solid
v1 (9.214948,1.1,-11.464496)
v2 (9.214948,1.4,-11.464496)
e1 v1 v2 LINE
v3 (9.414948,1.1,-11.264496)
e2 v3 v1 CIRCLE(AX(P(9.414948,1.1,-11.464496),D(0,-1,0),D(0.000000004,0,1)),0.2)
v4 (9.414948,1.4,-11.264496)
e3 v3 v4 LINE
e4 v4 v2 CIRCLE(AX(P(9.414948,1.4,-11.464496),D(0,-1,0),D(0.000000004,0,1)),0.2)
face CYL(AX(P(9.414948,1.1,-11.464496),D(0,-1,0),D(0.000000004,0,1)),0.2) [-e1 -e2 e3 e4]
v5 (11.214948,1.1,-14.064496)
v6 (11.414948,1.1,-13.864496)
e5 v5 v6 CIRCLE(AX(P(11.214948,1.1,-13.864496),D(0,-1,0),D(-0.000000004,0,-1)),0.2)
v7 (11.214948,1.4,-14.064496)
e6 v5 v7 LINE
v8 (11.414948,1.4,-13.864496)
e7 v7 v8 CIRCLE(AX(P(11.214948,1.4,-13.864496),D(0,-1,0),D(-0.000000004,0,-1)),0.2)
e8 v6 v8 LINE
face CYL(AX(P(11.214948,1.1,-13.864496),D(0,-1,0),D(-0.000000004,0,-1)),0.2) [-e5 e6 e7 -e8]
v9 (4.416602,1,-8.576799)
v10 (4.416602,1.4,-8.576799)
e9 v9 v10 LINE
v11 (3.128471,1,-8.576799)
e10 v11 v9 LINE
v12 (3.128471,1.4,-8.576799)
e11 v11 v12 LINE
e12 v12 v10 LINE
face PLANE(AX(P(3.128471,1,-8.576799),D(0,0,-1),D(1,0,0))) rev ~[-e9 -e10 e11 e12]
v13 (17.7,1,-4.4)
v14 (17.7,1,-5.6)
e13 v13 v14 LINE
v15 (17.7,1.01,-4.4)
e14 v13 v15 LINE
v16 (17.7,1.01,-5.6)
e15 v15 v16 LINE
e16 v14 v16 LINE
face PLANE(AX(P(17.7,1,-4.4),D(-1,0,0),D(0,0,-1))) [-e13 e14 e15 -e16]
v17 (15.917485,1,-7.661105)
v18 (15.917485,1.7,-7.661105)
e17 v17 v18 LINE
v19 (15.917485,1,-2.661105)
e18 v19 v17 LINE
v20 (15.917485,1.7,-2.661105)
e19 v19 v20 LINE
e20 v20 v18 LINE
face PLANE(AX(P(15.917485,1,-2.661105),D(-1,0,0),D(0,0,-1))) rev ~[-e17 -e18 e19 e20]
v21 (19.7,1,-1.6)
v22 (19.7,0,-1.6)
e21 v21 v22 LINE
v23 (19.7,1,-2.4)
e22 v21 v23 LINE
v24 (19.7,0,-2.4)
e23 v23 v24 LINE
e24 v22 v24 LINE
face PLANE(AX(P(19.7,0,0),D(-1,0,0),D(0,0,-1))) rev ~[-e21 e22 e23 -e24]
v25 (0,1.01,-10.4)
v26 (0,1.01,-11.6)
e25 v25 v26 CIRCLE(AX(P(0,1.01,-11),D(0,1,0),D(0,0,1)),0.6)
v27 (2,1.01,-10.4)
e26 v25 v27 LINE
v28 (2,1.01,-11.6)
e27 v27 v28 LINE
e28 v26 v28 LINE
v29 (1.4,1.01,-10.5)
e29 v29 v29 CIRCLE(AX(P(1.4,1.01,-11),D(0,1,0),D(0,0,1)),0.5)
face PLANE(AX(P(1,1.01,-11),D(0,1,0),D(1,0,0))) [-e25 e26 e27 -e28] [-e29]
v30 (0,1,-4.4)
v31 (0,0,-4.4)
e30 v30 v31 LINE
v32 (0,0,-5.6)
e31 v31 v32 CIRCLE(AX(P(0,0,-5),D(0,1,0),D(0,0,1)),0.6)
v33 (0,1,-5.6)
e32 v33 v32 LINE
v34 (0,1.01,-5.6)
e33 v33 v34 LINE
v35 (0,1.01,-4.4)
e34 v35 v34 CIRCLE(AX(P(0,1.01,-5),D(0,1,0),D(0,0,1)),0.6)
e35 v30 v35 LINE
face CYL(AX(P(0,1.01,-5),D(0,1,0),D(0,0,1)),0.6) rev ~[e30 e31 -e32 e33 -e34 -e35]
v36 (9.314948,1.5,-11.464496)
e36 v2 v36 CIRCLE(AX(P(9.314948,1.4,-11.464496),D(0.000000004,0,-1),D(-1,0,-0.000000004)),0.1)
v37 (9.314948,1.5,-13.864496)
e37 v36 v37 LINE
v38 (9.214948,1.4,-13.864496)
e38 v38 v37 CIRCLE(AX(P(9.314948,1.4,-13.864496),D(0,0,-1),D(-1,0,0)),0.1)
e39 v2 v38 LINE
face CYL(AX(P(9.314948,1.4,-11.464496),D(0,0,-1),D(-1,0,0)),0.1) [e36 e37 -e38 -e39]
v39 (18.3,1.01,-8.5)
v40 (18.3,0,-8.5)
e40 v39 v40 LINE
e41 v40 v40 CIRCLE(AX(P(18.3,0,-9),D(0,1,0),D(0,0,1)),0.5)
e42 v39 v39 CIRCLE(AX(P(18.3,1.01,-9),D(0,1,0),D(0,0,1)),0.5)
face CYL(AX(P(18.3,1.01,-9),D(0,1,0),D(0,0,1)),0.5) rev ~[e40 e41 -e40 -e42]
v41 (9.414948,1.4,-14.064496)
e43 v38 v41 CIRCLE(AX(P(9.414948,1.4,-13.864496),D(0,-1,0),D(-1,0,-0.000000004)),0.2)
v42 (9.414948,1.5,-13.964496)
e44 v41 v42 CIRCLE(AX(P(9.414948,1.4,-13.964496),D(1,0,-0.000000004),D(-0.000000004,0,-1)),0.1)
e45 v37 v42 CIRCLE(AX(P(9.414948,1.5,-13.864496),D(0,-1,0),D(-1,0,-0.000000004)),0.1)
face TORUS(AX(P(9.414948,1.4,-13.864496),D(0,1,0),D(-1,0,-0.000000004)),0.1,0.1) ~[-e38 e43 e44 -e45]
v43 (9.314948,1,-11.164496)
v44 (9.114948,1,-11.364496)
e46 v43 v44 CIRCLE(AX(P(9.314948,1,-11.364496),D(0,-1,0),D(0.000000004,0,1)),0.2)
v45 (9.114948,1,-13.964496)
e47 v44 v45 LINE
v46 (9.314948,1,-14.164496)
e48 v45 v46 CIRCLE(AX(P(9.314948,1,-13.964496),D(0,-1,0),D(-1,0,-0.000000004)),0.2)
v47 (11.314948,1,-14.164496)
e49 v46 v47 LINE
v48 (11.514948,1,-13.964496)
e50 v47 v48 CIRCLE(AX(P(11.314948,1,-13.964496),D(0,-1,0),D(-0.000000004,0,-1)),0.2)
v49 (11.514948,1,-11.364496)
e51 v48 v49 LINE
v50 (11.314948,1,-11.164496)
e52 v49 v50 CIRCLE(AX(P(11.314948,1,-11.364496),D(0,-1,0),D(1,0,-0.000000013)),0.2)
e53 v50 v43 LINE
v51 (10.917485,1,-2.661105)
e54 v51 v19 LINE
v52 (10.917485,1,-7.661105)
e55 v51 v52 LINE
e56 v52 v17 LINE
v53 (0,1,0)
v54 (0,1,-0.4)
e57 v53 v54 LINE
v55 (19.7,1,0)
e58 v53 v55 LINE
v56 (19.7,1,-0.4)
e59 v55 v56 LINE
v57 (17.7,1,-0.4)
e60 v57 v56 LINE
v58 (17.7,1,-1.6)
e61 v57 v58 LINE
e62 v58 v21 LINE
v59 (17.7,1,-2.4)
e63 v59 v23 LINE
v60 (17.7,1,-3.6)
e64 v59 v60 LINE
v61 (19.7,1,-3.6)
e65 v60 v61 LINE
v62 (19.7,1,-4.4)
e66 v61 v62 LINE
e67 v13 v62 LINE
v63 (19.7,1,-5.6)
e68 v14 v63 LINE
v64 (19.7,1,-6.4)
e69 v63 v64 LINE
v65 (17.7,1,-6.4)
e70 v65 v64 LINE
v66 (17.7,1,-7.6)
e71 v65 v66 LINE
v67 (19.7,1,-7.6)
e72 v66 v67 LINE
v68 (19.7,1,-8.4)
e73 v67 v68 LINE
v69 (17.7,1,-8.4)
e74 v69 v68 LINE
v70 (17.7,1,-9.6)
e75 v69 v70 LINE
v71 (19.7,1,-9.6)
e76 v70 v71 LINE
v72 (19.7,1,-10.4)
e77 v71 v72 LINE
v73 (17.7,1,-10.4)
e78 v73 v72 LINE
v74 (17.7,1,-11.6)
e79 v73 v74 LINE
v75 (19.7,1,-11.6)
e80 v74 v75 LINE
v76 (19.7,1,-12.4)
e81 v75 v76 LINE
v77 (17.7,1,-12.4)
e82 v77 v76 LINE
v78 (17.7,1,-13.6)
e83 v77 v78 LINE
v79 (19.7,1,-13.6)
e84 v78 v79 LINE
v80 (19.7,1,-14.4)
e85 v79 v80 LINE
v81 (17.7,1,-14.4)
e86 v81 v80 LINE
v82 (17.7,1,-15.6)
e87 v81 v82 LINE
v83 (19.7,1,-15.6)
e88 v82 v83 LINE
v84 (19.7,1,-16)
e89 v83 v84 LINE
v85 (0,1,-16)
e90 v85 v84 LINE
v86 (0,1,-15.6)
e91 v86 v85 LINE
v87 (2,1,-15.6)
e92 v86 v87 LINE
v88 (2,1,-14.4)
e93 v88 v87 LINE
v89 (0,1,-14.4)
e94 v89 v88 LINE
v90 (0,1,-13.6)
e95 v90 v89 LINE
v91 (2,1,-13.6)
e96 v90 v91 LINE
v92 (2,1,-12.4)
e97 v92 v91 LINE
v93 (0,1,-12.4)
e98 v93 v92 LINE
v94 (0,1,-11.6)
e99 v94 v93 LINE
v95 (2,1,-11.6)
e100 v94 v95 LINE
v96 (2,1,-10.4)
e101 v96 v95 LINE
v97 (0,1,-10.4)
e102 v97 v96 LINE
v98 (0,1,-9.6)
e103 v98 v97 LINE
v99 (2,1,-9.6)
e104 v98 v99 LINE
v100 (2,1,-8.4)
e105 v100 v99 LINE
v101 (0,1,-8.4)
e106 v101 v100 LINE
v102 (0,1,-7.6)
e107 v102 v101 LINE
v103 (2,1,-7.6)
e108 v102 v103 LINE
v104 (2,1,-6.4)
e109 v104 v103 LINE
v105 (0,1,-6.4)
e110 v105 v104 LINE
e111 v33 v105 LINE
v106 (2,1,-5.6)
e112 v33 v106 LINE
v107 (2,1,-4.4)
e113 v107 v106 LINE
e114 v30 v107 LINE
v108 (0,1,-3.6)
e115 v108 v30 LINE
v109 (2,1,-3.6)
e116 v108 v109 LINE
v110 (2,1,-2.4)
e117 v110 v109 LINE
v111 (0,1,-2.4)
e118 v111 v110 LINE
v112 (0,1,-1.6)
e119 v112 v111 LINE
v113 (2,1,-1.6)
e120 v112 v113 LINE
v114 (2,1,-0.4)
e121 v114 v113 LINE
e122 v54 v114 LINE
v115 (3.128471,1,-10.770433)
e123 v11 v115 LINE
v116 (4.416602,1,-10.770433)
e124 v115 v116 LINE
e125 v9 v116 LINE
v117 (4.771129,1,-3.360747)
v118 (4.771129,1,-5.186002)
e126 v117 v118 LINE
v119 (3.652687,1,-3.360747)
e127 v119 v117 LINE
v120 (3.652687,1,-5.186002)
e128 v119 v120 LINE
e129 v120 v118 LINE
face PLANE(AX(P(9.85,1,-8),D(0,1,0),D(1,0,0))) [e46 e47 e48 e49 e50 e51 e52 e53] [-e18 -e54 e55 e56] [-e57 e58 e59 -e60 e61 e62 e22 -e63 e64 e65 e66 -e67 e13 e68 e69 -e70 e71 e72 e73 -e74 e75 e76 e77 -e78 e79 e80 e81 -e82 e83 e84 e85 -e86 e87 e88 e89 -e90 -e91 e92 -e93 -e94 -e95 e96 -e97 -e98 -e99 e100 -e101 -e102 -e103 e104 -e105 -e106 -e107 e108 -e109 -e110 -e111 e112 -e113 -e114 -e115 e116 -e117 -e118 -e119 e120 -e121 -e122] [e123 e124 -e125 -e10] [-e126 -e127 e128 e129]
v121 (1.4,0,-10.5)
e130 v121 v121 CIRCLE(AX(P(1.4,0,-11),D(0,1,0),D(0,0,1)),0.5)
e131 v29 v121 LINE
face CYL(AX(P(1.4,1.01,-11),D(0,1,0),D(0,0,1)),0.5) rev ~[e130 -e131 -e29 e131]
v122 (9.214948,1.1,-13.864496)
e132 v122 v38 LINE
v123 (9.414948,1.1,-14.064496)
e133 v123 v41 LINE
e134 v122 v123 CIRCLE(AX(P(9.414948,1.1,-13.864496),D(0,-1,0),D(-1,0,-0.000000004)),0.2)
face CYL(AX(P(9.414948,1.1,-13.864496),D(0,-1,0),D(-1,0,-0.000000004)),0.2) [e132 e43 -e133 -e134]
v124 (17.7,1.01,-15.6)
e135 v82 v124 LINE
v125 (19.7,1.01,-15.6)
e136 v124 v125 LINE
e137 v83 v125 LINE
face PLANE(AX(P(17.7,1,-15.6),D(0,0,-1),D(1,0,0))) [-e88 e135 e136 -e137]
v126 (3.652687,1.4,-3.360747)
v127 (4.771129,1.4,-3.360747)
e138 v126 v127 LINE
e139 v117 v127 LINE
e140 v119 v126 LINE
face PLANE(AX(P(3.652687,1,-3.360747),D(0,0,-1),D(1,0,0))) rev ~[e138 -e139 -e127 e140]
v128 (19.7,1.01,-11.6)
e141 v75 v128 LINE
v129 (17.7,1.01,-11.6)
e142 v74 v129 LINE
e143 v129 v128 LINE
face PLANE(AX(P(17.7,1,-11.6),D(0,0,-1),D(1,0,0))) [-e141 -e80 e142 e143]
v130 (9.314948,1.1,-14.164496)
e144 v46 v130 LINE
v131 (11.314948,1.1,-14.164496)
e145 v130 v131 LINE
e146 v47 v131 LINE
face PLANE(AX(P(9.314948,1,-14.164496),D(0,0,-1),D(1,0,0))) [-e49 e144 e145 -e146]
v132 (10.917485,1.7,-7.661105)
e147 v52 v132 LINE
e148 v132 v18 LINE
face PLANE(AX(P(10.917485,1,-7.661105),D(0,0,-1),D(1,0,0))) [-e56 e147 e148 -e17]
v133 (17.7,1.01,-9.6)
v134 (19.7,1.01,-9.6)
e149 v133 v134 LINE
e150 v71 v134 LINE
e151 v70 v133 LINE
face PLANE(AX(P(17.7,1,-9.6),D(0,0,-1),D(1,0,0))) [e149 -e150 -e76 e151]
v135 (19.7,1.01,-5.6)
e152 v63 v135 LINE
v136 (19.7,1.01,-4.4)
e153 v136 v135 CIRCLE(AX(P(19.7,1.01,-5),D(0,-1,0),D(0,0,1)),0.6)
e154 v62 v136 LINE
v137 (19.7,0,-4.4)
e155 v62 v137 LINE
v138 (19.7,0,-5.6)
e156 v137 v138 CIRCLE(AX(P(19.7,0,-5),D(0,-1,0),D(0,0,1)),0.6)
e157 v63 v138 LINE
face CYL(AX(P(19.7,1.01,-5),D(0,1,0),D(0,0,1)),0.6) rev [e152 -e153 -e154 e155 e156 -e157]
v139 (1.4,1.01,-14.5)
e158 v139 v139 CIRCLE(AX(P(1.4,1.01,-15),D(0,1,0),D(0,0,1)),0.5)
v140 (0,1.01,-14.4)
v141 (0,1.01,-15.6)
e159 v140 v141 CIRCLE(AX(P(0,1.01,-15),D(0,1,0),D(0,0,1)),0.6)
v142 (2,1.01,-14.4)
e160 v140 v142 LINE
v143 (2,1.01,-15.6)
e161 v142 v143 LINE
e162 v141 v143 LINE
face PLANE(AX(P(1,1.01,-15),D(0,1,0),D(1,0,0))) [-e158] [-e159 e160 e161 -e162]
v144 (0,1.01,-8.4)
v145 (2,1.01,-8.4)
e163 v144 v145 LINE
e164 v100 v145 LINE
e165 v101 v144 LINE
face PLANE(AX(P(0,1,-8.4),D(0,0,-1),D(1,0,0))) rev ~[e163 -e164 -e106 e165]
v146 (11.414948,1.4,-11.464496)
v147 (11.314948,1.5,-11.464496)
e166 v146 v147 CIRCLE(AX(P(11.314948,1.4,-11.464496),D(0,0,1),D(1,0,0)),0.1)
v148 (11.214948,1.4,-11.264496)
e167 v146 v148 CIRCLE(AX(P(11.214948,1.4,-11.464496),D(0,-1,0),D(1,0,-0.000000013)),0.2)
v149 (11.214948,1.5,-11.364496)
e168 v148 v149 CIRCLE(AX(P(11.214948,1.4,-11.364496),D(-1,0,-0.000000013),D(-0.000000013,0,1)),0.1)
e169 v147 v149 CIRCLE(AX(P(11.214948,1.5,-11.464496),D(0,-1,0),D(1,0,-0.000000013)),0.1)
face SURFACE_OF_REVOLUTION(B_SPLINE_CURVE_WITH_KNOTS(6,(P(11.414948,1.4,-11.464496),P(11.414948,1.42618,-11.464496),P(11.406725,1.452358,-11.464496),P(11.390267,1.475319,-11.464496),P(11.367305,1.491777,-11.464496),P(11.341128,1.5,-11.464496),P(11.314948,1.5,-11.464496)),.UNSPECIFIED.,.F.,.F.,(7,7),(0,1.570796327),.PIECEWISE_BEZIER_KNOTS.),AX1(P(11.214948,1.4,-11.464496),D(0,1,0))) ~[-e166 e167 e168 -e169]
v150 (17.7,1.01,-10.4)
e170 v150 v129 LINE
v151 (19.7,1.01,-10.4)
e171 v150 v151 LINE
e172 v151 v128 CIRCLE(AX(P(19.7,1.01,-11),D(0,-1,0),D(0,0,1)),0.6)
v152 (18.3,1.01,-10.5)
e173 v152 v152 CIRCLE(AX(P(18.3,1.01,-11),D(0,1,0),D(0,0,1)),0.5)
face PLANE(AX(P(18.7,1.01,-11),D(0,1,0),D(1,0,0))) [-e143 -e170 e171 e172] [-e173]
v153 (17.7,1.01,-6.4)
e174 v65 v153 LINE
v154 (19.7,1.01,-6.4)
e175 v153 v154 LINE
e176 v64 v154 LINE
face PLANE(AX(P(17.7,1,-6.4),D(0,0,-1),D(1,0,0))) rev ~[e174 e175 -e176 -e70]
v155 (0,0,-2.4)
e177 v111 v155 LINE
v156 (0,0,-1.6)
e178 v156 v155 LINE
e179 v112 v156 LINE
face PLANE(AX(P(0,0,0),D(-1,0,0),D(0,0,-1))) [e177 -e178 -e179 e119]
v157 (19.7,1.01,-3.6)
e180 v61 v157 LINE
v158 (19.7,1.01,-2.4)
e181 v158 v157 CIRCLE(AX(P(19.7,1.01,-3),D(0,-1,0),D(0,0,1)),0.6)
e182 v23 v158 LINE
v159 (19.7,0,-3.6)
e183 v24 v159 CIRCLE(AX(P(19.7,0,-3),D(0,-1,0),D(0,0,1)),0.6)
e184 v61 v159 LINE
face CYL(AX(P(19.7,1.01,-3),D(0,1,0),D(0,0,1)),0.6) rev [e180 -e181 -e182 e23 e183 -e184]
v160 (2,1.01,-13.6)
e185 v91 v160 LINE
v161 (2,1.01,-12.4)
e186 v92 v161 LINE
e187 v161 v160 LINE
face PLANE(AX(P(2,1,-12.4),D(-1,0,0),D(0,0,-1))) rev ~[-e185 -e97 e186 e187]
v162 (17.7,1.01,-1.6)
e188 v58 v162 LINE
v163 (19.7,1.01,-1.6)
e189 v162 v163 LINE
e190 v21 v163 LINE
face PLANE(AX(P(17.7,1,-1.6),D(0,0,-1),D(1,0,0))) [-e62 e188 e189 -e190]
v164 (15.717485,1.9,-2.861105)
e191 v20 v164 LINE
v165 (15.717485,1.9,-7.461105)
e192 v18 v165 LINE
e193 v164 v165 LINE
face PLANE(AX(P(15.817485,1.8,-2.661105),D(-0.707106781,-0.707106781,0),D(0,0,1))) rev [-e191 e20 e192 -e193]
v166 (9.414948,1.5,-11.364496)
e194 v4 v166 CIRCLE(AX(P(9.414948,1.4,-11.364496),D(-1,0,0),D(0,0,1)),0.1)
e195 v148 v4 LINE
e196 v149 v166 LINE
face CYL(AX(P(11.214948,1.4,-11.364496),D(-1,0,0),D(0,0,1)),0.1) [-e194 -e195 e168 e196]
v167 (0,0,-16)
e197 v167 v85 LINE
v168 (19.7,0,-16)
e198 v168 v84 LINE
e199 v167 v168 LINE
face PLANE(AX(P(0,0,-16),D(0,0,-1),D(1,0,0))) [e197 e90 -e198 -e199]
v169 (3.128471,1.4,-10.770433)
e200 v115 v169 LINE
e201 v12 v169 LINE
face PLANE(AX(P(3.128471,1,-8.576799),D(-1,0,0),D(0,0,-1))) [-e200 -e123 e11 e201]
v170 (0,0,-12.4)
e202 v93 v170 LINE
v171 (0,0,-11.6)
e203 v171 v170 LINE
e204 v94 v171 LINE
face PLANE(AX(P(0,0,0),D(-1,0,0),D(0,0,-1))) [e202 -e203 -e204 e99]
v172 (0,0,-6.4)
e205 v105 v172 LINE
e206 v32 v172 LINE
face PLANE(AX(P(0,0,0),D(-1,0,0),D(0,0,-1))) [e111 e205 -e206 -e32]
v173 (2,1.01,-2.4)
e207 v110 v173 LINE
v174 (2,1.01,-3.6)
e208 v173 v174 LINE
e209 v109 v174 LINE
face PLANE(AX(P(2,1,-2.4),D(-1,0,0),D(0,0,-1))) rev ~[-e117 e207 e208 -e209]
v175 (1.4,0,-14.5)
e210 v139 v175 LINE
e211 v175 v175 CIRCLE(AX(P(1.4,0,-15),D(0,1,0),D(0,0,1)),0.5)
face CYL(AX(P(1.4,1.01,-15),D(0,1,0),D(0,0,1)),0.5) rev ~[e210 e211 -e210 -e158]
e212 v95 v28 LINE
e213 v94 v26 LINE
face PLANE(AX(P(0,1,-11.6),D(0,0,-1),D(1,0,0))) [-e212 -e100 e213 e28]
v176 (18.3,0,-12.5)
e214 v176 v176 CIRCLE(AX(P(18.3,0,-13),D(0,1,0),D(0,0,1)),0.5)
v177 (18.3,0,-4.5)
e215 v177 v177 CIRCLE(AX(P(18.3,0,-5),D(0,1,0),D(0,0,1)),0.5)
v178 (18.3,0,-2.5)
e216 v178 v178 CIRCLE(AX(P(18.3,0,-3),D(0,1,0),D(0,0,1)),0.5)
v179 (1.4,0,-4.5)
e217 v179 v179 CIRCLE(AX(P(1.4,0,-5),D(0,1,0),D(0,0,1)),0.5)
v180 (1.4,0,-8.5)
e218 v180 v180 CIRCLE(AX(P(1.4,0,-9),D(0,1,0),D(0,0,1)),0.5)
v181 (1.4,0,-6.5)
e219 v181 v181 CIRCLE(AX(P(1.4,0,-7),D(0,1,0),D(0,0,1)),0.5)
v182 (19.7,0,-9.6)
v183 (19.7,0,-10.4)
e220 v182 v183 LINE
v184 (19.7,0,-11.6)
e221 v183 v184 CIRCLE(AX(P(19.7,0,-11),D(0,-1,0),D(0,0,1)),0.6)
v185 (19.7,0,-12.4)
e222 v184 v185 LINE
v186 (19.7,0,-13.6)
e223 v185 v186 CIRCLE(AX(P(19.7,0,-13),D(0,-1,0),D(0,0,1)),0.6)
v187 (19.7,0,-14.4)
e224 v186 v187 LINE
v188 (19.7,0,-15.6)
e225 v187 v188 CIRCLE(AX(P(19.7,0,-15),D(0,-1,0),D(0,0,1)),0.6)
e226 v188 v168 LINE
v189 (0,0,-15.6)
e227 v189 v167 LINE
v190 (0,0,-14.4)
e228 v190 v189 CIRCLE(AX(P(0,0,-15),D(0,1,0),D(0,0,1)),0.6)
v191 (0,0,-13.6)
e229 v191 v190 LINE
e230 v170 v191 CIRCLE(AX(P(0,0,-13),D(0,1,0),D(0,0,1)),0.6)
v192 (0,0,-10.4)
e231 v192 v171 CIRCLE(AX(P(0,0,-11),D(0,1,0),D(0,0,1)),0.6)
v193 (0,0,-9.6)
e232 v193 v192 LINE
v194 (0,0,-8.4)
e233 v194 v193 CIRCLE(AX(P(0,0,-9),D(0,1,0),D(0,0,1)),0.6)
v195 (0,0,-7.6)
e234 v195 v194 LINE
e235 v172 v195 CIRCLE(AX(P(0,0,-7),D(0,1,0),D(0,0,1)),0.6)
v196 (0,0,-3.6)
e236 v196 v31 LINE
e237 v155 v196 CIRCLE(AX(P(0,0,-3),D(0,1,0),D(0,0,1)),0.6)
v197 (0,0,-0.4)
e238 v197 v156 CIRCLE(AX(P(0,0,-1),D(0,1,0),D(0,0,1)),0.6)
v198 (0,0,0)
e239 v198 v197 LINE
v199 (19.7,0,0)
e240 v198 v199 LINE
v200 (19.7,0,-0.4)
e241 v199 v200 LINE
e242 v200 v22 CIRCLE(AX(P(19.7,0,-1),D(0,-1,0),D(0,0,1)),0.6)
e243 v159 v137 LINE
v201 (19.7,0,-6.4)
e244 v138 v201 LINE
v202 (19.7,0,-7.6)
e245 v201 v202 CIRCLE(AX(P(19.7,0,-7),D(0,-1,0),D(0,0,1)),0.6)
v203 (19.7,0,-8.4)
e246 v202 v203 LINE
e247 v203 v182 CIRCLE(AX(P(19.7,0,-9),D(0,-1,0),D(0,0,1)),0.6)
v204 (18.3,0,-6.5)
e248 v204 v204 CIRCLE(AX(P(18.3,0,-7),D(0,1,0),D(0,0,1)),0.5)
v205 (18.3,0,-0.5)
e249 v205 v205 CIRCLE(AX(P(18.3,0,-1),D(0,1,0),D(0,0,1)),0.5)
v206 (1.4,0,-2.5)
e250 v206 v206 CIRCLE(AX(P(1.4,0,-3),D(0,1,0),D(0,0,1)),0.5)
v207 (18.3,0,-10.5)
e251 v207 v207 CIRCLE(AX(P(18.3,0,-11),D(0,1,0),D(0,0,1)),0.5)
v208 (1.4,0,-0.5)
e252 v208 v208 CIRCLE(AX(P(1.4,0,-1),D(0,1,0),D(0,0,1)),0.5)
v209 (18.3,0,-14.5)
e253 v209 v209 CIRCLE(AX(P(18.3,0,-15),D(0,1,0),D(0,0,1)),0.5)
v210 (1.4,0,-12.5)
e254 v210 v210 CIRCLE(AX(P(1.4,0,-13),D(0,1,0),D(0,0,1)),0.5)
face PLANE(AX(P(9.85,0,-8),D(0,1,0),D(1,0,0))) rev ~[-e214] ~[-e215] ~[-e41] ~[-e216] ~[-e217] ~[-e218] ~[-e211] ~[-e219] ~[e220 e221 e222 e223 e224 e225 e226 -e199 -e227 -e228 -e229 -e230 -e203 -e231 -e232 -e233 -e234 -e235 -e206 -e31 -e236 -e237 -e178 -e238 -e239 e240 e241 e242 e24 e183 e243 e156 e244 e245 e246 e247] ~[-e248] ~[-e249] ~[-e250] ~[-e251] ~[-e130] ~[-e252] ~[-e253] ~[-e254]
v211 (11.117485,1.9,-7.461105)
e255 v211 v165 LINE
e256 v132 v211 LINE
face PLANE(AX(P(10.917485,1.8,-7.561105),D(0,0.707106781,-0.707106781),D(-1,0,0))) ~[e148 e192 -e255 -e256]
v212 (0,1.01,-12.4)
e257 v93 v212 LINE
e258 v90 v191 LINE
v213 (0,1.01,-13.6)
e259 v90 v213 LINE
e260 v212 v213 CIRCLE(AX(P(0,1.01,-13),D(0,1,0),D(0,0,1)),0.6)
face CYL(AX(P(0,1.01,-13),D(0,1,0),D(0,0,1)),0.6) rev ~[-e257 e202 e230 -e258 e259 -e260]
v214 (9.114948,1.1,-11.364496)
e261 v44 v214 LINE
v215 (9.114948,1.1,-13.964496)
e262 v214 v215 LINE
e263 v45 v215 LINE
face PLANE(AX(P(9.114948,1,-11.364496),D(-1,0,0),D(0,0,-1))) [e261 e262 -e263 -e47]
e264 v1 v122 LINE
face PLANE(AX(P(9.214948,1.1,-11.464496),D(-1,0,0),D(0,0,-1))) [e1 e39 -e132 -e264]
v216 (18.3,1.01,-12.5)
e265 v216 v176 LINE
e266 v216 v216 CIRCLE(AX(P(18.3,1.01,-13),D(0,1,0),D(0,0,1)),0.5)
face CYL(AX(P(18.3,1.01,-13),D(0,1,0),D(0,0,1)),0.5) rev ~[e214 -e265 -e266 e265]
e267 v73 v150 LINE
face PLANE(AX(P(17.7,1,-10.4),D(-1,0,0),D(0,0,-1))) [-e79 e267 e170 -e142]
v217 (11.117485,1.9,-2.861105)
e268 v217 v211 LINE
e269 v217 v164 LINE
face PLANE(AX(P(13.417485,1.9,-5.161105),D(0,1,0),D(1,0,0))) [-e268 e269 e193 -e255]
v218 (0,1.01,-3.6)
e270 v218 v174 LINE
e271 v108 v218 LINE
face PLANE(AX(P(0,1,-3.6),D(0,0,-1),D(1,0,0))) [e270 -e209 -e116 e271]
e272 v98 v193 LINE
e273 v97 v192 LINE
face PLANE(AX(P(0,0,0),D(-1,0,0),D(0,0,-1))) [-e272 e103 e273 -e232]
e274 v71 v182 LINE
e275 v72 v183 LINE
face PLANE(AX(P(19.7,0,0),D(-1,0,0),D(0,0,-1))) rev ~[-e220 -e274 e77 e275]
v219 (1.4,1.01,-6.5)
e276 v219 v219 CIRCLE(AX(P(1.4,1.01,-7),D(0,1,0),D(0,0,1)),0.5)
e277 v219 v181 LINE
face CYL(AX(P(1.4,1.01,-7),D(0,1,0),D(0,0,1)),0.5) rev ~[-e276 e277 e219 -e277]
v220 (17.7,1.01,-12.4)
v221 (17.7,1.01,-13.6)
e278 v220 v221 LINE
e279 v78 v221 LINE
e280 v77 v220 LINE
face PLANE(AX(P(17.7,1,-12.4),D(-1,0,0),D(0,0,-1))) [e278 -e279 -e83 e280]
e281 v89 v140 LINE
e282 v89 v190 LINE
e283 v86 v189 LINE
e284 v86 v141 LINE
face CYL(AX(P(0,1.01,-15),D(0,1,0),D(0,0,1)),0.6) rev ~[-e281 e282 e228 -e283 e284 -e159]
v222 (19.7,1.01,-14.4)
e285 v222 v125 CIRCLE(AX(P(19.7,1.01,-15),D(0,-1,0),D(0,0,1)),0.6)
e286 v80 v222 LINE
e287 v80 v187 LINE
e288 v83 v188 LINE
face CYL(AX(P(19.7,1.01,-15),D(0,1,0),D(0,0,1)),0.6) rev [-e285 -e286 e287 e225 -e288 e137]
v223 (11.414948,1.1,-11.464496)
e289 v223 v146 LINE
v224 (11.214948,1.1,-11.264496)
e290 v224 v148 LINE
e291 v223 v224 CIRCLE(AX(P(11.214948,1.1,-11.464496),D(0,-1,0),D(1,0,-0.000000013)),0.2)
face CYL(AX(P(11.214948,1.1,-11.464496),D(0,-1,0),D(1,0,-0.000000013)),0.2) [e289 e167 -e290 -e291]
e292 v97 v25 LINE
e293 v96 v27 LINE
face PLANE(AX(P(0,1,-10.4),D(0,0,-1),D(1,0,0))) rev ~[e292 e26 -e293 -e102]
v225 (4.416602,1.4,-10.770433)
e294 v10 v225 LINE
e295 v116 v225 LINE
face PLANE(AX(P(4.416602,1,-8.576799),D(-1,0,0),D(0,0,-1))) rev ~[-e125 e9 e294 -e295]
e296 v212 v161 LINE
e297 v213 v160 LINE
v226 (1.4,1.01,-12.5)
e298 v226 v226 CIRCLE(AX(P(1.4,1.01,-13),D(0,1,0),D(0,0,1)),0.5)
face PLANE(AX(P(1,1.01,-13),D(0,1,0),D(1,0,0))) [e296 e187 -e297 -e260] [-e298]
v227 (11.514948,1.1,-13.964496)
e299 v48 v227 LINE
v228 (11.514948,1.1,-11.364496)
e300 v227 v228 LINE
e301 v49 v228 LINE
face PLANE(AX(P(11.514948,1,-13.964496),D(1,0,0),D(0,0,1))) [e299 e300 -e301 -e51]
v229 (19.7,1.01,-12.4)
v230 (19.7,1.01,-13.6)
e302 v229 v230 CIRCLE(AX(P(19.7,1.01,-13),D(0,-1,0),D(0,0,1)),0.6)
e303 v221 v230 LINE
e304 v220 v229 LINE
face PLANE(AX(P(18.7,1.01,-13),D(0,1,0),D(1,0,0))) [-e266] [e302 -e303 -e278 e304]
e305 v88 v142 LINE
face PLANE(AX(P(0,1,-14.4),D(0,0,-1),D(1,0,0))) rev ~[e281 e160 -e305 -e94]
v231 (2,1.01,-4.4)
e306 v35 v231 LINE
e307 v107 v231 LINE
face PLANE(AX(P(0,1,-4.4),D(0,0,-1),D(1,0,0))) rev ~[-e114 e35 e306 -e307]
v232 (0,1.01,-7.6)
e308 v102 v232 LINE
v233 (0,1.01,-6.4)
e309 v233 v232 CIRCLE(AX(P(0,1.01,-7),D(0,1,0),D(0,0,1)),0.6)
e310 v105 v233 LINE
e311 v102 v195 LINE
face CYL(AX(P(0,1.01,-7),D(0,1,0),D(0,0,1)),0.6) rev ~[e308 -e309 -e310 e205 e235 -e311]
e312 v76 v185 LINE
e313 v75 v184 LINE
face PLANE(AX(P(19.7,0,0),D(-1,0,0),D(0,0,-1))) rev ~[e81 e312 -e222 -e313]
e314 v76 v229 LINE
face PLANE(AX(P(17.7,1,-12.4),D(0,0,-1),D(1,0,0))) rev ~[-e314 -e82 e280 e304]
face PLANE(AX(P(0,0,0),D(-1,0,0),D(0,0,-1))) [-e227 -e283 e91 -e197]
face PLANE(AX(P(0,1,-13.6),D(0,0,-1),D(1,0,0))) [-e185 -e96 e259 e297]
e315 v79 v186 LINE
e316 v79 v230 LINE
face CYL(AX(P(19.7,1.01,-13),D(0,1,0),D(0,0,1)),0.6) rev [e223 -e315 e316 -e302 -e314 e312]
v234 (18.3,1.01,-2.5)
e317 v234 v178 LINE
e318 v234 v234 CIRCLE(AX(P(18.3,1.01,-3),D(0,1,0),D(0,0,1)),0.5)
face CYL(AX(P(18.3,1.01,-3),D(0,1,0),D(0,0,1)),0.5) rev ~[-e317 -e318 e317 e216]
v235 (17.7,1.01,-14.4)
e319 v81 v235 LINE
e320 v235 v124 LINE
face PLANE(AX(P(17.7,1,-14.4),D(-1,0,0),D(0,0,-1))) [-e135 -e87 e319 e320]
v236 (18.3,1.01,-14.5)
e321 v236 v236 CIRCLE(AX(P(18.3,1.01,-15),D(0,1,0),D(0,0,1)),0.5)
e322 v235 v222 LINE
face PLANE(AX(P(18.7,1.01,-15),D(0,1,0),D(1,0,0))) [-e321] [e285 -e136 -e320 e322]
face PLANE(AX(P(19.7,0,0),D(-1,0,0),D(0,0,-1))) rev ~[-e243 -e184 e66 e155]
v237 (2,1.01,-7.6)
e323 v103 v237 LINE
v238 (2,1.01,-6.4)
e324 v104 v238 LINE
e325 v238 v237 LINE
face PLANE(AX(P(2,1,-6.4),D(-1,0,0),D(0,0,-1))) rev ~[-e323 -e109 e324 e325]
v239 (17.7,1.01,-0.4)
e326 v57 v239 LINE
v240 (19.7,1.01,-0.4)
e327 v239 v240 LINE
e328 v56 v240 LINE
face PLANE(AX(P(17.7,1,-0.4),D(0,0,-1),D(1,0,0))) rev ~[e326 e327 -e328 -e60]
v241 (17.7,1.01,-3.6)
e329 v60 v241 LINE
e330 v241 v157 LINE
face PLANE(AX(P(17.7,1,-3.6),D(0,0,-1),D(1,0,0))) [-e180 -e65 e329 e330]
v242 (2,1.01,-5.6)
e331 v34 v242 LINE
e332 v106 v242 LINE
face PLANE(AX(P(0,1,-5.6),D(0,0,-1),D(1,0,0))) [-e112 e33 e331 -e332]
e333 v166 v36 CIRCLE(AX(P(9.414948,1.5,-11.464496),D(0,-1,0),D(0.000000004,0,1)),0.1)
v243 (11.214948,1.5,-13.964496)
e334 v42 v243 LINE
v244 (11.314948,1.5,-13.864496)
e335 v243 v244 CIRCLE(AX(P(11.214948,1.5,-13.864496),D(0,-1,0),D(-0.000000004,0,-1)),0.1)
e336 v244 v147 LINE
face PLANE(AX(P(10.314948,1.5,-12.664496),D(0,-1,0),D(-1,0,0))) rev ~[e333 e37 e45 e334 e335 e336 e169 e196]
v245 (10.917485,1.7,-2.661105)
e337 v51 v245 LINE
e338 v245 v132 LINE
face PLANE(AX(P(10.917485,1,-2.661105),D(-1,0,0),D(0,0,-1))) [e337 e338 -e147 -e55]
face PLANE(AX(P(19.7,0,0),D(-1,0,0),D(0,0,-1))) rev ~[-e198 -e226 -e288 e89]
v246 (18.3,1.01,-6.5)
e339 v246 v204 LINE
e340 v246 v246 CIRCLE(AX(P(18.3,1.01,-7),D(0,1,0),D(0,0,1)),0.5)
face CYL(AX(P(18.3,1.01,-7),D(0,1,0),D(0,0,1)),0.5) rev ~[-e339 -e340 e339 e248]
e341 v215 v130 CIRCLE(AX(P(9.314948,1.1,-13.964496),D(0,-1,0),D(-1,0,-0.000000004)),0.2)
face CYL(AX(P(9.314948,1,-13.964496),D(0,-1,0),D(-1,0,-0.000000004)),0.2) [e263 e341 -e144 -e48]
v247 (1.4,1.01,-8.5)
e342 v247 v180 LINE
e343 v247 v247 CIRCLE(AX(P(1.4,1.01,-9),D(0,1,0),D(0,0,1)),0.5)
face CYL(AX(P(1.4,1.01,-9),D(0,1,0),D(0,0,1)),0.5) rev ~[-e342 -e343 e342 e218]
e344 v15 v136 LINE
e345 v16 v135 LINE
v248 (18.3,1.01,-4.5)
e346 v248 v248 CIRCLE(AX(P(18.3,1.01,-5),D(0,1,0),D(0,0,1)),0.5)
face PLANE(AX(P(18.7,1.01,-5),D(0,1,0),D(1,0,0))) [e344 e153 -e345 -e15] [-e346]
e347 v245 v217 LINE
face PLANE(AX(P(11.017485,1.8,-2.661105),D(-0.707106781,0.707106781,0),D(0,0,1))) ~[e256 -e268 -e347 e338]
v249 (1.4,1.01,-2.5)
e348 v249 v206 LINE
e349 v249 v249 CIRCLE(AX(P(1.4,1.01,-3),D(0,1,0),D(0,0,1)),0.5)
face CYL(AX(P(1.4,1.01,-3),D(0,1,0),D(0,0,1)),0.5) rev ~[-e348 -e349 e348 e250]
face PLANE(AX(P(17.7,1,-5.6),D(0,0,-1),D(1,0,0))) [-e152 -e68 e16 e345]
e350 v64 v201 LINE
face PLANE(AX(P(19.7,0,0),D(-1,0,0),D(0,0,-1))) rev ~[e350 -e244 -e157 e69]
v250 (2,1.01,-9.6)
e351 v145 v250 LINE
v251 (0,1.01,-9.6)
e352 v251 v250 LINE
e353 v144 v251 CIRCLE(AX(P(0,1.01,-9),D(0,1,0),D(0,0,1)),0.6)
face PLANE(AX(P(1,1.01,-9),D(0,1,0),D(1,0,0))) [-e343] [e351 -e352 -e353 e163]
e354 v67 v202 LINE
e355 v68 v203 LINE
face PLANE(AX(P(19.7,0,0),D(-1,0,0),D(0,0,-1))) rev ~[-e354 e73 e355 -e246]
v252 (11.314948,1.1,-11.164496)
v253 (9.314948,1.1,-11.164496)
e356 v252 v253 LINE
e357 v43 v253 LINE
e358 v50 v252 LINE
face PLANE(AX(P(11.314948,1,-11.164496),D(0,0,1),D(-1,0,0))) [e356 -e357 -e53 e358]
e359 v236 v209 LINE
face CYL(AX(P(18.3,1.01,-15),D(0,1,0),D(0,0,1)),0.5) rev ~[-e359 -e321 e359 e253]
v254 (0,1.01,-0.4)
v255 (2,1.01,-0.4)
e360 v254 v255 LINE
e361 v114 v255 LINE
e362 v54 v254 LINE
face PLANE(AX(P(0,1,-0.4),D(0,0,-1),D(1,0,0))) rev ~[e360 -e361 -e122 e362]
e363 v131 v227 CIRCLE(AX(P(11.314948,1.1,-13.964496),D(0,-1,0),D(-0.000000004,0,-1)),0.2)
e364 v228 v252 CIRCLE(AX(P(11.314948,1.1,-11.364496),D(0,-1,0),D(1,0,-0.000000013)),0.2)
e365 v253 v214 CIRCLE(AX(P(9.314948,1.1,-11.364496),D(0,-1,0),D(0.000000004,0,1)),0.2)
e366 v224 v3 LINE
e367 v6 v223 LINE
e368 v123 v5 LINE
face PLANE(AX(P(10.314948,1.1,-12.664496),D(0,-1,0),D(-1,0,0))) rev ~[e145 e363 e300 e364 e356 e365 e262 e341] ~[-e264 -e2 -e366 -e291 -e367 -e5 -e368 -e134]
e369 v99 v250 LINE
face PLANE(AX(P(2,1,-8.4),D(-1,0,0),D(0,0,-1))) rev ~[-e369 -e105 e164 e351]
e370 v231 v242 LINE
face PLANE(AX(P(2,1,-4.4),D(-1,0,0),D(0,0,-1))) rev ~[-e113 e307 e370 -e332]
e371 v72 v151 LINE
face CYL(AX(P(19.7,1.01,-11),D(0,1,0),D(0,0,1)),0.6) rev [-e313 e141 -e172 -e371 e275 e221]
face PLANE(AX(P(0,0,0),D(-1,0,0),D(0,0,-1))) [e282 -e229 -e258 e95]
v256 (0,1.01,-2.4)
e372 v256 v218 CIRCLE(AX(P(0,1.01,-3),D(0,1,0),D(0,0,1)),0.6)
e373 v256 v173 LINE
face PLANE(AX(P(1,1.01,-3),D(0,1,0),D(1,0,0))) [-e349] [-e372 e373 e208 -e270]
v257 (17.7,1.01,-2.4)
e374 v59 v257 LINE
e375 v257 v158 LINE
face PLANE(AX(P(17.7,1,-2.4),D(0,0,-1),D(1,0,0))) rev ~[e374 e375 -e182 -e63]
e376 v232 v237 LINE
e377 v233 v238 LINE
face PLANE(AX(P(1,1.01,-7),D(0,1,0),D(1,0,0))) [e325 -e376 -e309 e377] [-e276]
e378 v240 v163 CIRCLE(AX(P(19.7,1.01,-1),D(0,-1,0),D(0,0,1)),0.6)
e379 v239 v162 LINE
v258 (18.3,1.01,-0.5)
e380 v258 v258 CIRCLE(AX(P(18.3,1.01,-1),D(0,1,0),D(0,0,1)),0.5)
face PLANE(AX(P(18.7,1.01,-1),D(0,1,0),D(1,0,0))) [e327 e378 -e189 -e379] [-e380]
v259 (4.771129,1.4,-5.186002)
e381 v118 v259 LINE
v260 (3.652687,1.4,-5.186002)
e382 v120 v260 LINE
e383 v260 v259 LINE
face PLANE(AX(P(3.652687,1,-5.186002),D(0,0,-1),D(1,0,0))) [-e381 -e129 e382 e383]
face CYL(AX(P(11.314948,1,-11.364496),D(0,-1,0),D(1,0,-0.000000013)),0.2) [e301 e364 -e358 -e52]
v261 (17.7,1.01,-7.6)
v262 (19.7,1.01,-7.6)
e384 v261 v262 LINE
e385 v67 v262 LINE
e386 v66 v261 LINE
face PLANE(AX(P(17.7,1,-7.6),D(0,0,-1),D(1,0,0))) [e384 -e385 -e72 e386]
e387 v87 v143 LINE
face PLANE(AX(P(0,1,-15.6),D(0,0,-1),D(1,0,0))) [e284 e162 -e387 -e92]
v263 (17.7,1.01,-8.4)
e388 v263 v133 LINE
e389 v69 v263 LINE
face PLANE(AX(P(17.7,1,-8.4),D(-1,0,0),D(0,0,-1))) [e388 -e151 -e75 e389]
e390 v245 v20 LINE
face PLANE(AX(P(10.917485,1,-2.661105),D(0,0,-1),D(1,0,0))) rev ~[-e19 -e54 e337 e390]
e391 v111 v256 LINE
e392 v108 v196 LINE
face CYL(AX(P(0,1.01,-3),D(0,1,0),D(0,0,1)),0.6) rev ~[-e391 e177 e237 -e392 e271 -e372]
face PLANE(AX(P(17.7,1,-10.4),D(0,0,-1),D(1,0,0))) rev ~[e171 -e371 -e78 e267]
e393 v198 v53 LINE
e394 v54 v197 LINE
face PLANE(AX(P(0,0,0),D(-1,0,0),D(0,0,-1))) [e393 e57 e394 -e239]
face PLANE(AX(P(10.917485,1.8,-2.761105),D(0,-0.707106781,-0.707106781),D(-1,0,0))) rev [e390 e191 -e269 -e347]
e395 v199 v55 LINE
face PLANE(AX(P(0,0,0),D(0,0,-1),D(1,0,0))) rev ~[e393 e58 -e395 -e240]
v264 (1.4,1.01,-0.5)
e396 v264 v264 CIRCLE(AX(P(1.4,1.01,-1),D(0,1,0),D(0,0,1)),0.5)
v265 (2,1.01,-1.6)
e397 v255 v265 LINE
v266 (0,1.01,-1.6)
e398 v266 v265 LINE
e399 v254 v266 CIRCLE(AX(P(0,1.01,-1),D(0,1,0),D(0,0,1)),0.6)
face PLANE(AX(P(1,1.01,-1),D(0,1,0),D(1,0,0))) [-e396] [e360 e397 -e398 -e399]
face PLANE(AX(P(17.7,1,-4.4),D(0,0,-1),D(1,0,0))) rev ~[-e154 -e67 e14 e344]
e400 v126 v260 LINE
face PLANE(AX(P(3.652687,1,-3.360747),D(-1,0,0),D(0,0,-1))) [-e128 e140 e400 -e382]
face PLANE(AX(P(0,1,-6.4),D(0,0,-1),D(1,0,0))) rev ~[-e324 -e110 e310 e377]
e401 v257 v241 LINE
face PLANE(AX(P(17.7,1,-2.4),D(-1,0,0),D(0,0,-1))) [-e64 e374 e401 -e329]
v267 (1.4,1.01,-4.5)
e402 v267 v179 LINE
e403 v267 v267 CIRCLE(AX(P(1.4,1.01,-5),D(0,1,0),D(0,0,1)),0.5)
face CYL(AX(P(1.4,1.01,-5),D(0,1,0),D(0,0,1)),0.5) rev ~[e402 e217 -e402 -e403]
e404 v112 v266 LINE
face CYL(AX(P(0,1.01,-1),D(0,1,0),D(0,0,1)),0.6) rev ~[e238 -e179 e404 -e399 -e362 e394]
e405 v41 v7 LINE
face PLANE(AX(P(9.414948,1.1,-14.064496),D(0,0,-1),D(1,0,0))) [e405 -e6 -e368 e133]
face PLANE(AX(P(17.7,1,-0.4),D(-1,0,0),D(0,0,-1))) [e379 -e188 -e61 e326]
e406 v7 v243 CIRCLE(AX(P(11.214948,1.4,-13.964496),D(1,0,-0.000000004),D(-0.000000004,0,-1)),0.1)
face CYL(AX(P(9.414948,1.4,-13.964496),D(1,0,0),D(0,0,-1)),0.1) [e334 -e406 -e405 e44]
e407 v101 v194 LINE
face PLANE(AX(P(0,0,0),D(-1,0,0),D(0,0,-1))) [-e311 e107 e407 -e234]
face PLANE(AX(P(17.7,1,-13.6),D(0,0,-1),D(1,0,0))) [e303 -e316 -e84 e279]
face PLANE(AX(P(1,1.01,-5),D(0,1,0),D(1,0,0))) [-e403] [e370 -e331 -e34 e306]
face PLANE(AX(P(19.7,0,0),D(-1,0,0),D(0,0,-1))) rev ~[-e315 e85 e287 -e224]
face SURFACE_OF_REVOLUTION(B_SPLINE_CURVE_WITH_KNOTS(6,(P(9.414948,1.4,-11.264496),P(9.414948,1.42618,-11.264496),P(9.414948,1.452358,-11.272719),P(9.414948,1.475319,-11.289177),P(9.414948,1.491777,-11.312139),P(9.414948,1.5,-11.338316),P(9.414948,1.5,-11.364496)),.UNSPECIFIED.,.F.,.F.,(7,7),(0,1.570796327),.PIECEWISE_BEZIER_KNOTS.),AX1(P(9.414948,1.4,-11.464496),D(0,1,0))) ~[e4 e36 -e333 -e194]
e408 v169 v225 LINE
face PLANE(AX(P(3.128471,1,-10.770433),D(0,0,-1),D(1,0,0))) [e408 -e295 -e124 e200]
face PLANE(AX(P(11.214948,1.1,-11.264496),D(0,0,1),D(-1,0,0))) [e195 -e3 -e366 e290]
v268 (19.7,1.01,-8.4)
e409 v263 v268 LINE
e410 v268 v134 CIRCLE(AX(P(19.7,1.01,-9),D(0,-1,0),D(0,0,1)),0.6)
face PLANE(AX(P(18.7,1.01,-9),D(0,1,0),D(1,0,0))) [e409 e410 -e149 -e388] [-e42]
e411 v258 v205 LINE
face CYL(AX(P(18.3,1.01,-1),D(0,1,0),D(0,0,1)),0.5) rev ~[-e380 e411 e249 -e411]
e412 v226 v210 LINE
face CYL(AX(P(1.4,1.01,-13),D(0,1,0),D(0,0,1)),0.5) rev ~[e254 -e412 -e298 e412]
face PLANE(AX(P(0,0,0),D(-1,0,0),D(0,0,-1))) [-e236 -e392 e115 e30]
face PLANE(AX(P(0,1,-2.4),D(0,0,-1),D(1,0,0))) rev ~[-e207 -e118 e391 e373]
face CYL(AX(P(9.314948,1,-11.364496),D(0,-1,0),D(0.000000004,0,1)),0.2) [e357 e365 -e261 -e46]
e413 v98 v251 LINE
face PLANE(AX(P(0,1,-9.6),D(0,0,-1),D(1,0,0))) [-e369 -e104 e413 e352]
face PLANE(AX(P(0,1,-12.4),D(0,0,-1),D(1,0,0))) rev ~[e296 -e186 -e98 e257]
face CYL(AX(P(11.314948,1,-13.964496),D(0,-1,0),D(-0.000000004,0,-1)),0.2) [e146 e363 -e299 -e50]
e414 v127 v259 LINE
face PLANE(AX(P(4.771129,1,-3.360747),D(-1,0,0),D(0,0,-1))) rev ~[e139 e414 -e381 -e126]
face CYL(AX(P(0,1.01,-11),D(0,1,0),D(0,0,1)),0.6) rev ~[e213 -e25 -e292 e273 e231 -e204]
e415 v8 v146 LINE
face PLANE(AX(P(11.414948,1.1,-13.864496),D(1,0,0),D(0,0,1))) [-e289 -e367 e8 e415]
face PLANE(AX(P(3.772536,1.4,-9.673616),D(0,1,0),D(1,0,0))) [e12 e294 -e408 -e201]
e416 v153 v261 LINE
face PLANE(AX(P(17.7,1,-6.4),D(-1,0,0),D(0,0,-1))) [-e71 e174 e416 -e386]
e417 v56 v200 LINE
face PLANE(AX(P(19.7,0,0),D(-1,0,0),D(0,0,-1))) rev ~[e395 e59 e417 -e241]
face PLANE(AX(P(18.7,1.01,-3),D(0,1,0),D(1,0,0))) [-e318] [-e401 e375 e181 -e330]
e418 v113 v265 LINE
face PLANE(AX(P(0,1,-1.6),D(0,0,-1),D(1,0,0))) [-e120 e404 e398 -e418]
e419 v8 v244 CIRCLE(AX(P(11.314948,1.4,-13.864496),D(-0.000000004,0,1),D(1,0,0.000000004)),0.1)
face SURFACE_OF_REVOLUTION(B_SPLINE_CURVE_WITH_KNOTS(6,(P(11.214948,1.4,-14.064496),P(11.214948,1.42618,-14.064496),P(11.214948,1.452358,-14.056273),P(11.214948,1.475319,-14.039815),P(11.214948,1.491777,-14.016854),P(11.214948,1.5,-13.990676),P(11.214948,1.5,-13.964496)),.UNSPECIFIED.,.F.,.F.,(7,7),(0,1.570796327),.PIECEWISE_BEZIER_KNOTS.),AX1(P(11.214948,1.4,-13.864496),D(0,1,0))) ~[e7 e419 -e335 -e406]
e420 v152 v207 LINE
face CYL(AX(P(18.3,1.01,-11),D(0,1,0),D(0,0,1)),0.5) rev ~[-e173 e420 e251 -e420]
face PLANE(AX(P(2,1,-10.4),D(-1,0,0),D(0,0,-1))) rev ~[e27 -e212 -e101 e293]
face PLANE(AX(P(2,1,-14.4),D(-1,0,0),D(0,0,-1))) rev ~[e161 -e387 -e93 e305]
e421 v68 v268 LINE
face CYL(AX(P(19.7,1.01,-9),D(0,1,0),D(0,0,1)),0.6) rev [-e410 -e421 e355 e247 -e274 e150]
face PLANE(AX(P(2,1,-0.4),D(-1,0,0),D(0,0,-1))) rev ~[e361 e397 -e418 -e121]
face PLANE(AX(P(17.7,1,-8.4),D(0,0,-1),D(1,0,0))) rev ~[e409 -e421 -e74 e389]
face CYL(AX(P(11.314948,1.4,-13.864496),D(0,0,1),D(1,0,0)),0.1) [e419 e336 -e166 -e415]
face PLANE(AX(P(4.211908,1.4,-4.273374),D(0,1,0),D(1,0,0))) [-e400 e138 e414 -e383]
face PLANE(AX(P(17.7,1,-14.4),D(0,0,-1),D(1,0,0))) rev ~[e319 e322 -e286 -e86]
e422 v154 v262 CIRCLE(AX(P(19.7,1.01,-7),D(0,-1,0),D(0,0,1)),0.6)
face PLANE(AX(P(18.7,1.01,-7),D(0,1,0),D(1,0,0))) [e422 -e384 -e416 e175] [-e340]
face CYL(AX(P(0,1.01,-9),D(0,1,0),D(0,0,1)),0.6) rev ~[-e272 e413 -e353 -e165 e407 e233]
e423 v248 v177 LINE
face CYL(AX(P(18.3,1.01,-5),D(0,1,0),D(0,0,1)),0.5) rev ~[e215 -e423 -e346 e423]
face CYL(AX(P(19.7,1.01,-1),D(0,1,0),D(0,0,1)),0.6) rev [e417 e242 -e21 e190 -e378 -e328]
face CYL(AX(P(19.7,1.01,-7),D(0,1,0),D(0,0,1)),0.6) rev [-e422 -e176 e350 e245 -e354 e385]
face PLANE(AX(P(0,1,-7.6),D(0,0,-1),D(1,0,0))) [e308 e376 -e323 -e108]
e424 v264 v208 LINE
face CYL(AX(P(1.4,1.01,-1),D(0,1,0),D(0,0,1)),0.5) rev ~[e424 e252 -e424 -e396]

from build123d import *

# Parameters (mm, degrees)
SKETCH1_W           = 19.7
SKETCH1_H           = 16
BOSS_EXTRUDE1_DEPTH = 1
SKETCH2_W           = 2
SKETCH2_H           = 1.2
BOSS_EXTRUDE2_DEPTH = 0.01
SKETCH3_R           = 0.5
CUT_EXTRUDE1_DEPTH  = 1.01
SKETCH4_W           = 5
SKETCH4_H           = 5
BOSS_EXTRUDE3_DEPTH = 0.9
SKETCH5_W           = 1.118442439
SKETCH5_H           = 1.825254878
SKETCH5_W_2         = 1.288131099
SKETCH5_H_2         = 2.193633861
BOSS_EXTRUDE4_DEPTH = 0.4
BOSS_EXTRUDE5_DEPTH = 0.1
BOSS_EXTRUDE6_DEPTH = 0.4
FILLET1_R           = 0.1
CHAMFER1_SIZE       = 0.2


with BuildPart() as part:
    # Sketch1 → Boss-Extrude1 (new body)
    with BuildSketch(Plane(origin=(0, 0, 0), x_dir=(1, 0, 0), z_dir=(0, 1, 0))):
        with Locations((9.85, 8)):
            Rectangle(SKETCH1_W, SKETCH1_H)
    extrude(amount=BOSS_EXTRUDE1_DEPTH)

    # Sketch2 → Boss-Extrude2 (add)
    with BuildSketch(Plane(origin=(0, 1, 0), x_dir=(1, 0, 0), z_dir=(0, 1, 0))):
        with Locations((1, 15)):
            Rectangle(SKETCH2_W, SKETCH2_H)
        with Locations((1, 13)):
            Rectangle(SKETCH2_W, SKETCH2_H)
        with Locations((1, 11)):
            Rectangle(SKETCH2_W, SKETCH2_H)
        with Locations((1, 9)):
            Rectangle(SKETCH2_W, SKETCH2_H)
        with Locations((1, 7)):
            Rectangle(SKETCH2_W, SKETCH2_H)
        with Locations((1, 5)):
            Rectangle(SKETCH2_W, SKETCH2_H)
        with Locations((1, 3)):
            Rectangle(SKETCH2_W, SKETCH2_H)
        with Locations((1, 1)):
            Rectangle(SKETCH2_W, SKETCH2_H)
        with Locations((18.7, 15)):
            Rectangle(SKETCH2_W, SKETCH2_H)
        with Locations((18.7, 13)):
            Rectangle(SKETCH2_W, SKETCH2_H)
        with Locations((18.7, 11)):
            Rectangle(SKETCH2_W, SKETCH2_H)
        with Locations((18.7, 9)):
            Rectangle(SKETCH2_W, SKETCH2_H)
        with Locations((18.7, 7)):
            Rectangle(SKETCH2_W, SKETCH2_H)
        with Locations((18.7, 5)):
            Rectangle(SKETCH2_W, SKETCH2_H)
        with Locations((18.7, 3)):
            Rectangle(SKETCH2_W, SKETCH2_H)
        with Locations((18.7, 1)):
            Rectangle(SKETCH2_W, SKETCH2_H)
    extrude(amount=BOSS_EXTRUDE2_DEPTH)

    # Sketch3 → Cut-Extrude1 (cut)
    with BuildSketch(Plane(origin=(0, 1.01, 0), x_dir=(1, 0, 0), z_dir=(0, 1, 0))):
        with Locations(Location((1.4, 15, 0), (0, 0, 270))):
            Circle(SKETCH3_R)
        with Locations(Location((1.4, 13, 0), (0, 0, 270))):
            Circle(SKETCH3_R)
        with Locations(Location((1.4, 11, 0), (0, 0, 270))):
            Circle(SKETCH3_R)
        with Locations(Location((1.4, 9, 0), (0, 0, 270))):
            Circle(SKETCH3_R)
        with Locations(Location((1.4, 7, 0), (0, 0, 270))):
            Circle(SKETCH3_R)
        with Locations(Location((1.4, 5, 0), (0, 0, 270))):
            Circle(SKETCH3_R)
        with Locations(Location((1.4, 3, 0), (0, 0, 270))):
            Circle(SKETCH3_R)
        with Locations(Location((1.4, 1, 0), (0, 0, 270))):
            Circle(SKETCH3_R)
        with Locations(Location((18.3, 15, 0), (0, 0, 270))):
            Circle(SKETCH3_R)
        with Locations(Location((18.3, 13, 0), (0, 0, 270))):
            Circle(SKETCH3_R)
        with Locations(Location((18.3, 11, 0), (0, 0, 270))):
            Circle(SKETCH3_R)
        with Locations(Location((18.3, 9, 0), (0, 0, 270))):
            Circle(SKETCH3_R)
        with Locations(Location((18.3, 7, 0), (0, 0, 270))):
            Circle(SKETCH3_R)
        with Locations(Location((18.3, 5, 0), (0, 0, 270))):
            Circle(SKETCH3_R)
        with Locations(Location((18.3, 3, 0), (0, 0, 270))):
            Circle(SKETCH3_R)
        with Locations(Location((18.3, 1, 0), (0, 0, 270))):
            Circle(SKETCH3_R)
        with BuildLine():
            Line((0, 15.6), (0, 14.4))
            ThreePointArc((0, 14.4), (0.6, 15), (0, 15.6))
        make_face()
        with BuildLine():
            Line((0, 13.6), (0, 12.4))
            ThreePointArc((0, 12.4), (0.6, 13), (0, 13.6))
        make_face()
        with BuildLine():
            Line((0, 11.6), (0, 10.4))
            ThreePointArc((0, 10.4), (0.6, 11), (0, 11.6))
        make_face()
        with BuildLine():
            Line((0, 9.6), (0, 8.4))
            ThreePointArc((0, 8.4), (0.6, 9), (0, 9.6))
        make_face()
        with BuildLine():
            Line((0, 7.6), (0, 6.4))
            ThreePointArc((0, 6.4), (0.6, 7), (0, 7.6))
        make_face()
        with BuildLine():
            Line((0, 5.6), (0, 4.4))
            ThreePointArc((0, 4.4), (0.6, 5), (0, 5.6))
        make_face()
        with BuildLine():
            Line((0, 3.6), (0, 2.4))
            ThreePointArc((0, 2.4), (0.6, 3), (0, 3.6))
        make_face()
        with BuildLine():
            Line((0, 1.6), (0, 0.4))
            ThreePointArc((0, 0.4), (0.6, 1), (0, 1.6))
        make_face()
        with BuildLine():
            Line((19.7, 15.6), (19.7, 14.4))
            ThreePointArc((19.7, 14.4), (19.1, 15), (19.7, 15.6))
        make_face()
        with BuildLine():
            Line((19.7, 13.6), (19.7, 12.4))
            ThreePointArc((19.7, 12.4), (19.1, 13), (19.7, 13.6))
        make_face()
        with BuildLine():
            Line((19.7, 11.6), (19.7, 10.4))
            ThreePointArc((19.7, 10.4), (19.1, 11), (19.7, 11.6))
        make_face()
        with BuildLine():
            Line((19.7, 9.6), (19.7, 8.4))
            ThreePointArc((19.7, 8.4), (19.1, 9), (19.7, 9.6))
        make_face()
        with BuildLine():
            Line((19.7, 7.6), (19.7, 6.4))
            ThreePointArc((19.7, 6.4), (19.1, 7), (19.7, 7.6))
        make_face()
        with BuildLine():
            Line((19.7, 5.6), (19.7, 4.4))
            ThreePointArc((19.7, 4.4), (19.1, 5), (19.7, 5.6))
        make_face()
        with BuildLine():
            Line((19.7, 3.6), (19.7, 2.4))
            ThreePointArc((19.7, 2.4), (19.1, 3), (19.7, 3.6))
        make_face()
        with BuildLine():
            Line((19.7, 1.6), (19.7, 0.4))
            ThreePointArc((19.7, 0.4), (19.1, 1), (19.7, 1.6))
        make_face()
    extrude(amount=-CUT_EXTRUDE1_DEPTH, mode=Mode.SUBTRACT)

    # Sketch4 → Boss-Extrude3 (add)
    with BuildSketch(Plane(origin=(0, 1, 0), x_dir=(1, 0, 0), z_dir=(0, 1, 0))):
        with Locations((13.417484737, 5.161104769)):
            Rectangle(SKETCH4_W, SKETCH4_H)
    extrude(amount=BOSS_EXTRUDE3_DEPTH)

    # Sketch5 → Boss-Extrude4 (add)
    with BuildSketch(Plane(origin=(0, 1, 0), x_dir=(1, 0, 0), z_dir=(0, 1, 0))):
        with Locations((4.211907739, 4.273374336)):
            Rectangle(SKETCH5_W, SKETCH5_H)
        with Locations((3.772536097, 9.673616078)):
            Rectangle(SKETCH5_W_2, SKETCH5_H_2)
    extrude(amount=BOSS_EXTRUDE4_DEPTH)

    # Sketch6 → Boss-Extrude5 (add)
    with BuildSketch(Plane(origin=(0, 1, 0), x_dir=(1, 0, 0), z_dir=(0, 1, 0))):
        with BuildLine():
            Line((9.314947629, 14.164496182), (11.314947629, 14.164496182))
            ThreePointArc((11.314947629, 14.164496182), (11.456368986, 14.105917538), (11.514947629, 13.964496182))
            Line((11.514947629, 13.964496182), (11.514947629, 11.364496182))
            ThreePointArc((11.514947629, 11.364496182), (11.456368986, 11.223074825), (11.314947629, 11.164496182))
            Line((11.314947629, 11.164496182), (9.314947629, 11.164496182))
            ThreePointArc((9.314947629, 11.164496182), (9.173526273, 11.223074825), (9.114947629, 11.364496182))
            Line((9.114947629, 11.364496182), (9.114947629, 13.964496182))
            ThreePointArc((9.114947629, 13.964496182), (9.173526273, 14.105917538), (9.314947629, 14.164496182))
        make_face()
    extrude(amount=BOSS_EXTRUDE5_DEPTH)

    # Sketch7 → Boss-Extrude6 (add)
    with BuildSketch(Plane(origin=(0, 1.1, 0), x_dir=(1, 0, 0), z_dir=(0, 1, 0))):
        with BuildLine():
            Line((9.414947629, 14.064496182), (11.214947629, 14.064496182))
            ThreePointArc((11.214947629, 14.064496182), (11.356368986, 14.005917538), (11.414947629, 13.864496182))
            Line((11.414947629, 13.864496182), (11.414947629, 11.464496182))
            ThreePointArc((11.414947629, 11.464496182), (11.356368986, 11.323074825), (11.214947629, 11.264496182))
            Line((11.214947629, 11.264496182), (9.414947629, 11.264496182))
            ThreePointArc((9.414947629, 11.264496182), (9.273526273, 11.323074825), (9.214947629, 11.464496182))
            Line((9.214947629, 11.464496182), (9.214947629, 13.864496182))
            ThreePointArc((9.214947629, 13.864496182), (9.273526273, 14.005917538), (9.414947629, 14.064496182))
        make_face()
    extrude(amount=BOSS_EXTRUDE6_DEPTH)

    # Fillet1
    fillet1_edges = [part.edges().sort_by_distance(p)[0] for p in [
        (11.356368986, 1.5, -14.005917538),
        (10.314947629, 1.5, -14.064496182),
        (9.273526273, 1.5, -14.005917538),
        (9.214947629, 1.5, -12.664496182),
        (9.273526273, 1.5, -11.323074825),
        (10.314947629, 1.5, -11.264496182),
        (11.356368986, 1.5, -11.323074825),
        (11.414947629, 1.5, -12.664496182),
    ]]
    fillet(fillet1_edges, radius=FILLET1_R)

    # Chamfer1
    chamfer1_edges = [part.edges().sort_by_distance(p)[0] for p in [
        (10.917484737, 1.9, -5.161104769),
        (13.417484737, 1.9, -2.661104769),
        (15.917484737, 1.9, -5.161104769),
        (13.417484737, 1.9, -7.661104769),
    ]]
    chamfer(chamfer1_edges, length=CHAMFER1_SIZE)


solid = part.part
